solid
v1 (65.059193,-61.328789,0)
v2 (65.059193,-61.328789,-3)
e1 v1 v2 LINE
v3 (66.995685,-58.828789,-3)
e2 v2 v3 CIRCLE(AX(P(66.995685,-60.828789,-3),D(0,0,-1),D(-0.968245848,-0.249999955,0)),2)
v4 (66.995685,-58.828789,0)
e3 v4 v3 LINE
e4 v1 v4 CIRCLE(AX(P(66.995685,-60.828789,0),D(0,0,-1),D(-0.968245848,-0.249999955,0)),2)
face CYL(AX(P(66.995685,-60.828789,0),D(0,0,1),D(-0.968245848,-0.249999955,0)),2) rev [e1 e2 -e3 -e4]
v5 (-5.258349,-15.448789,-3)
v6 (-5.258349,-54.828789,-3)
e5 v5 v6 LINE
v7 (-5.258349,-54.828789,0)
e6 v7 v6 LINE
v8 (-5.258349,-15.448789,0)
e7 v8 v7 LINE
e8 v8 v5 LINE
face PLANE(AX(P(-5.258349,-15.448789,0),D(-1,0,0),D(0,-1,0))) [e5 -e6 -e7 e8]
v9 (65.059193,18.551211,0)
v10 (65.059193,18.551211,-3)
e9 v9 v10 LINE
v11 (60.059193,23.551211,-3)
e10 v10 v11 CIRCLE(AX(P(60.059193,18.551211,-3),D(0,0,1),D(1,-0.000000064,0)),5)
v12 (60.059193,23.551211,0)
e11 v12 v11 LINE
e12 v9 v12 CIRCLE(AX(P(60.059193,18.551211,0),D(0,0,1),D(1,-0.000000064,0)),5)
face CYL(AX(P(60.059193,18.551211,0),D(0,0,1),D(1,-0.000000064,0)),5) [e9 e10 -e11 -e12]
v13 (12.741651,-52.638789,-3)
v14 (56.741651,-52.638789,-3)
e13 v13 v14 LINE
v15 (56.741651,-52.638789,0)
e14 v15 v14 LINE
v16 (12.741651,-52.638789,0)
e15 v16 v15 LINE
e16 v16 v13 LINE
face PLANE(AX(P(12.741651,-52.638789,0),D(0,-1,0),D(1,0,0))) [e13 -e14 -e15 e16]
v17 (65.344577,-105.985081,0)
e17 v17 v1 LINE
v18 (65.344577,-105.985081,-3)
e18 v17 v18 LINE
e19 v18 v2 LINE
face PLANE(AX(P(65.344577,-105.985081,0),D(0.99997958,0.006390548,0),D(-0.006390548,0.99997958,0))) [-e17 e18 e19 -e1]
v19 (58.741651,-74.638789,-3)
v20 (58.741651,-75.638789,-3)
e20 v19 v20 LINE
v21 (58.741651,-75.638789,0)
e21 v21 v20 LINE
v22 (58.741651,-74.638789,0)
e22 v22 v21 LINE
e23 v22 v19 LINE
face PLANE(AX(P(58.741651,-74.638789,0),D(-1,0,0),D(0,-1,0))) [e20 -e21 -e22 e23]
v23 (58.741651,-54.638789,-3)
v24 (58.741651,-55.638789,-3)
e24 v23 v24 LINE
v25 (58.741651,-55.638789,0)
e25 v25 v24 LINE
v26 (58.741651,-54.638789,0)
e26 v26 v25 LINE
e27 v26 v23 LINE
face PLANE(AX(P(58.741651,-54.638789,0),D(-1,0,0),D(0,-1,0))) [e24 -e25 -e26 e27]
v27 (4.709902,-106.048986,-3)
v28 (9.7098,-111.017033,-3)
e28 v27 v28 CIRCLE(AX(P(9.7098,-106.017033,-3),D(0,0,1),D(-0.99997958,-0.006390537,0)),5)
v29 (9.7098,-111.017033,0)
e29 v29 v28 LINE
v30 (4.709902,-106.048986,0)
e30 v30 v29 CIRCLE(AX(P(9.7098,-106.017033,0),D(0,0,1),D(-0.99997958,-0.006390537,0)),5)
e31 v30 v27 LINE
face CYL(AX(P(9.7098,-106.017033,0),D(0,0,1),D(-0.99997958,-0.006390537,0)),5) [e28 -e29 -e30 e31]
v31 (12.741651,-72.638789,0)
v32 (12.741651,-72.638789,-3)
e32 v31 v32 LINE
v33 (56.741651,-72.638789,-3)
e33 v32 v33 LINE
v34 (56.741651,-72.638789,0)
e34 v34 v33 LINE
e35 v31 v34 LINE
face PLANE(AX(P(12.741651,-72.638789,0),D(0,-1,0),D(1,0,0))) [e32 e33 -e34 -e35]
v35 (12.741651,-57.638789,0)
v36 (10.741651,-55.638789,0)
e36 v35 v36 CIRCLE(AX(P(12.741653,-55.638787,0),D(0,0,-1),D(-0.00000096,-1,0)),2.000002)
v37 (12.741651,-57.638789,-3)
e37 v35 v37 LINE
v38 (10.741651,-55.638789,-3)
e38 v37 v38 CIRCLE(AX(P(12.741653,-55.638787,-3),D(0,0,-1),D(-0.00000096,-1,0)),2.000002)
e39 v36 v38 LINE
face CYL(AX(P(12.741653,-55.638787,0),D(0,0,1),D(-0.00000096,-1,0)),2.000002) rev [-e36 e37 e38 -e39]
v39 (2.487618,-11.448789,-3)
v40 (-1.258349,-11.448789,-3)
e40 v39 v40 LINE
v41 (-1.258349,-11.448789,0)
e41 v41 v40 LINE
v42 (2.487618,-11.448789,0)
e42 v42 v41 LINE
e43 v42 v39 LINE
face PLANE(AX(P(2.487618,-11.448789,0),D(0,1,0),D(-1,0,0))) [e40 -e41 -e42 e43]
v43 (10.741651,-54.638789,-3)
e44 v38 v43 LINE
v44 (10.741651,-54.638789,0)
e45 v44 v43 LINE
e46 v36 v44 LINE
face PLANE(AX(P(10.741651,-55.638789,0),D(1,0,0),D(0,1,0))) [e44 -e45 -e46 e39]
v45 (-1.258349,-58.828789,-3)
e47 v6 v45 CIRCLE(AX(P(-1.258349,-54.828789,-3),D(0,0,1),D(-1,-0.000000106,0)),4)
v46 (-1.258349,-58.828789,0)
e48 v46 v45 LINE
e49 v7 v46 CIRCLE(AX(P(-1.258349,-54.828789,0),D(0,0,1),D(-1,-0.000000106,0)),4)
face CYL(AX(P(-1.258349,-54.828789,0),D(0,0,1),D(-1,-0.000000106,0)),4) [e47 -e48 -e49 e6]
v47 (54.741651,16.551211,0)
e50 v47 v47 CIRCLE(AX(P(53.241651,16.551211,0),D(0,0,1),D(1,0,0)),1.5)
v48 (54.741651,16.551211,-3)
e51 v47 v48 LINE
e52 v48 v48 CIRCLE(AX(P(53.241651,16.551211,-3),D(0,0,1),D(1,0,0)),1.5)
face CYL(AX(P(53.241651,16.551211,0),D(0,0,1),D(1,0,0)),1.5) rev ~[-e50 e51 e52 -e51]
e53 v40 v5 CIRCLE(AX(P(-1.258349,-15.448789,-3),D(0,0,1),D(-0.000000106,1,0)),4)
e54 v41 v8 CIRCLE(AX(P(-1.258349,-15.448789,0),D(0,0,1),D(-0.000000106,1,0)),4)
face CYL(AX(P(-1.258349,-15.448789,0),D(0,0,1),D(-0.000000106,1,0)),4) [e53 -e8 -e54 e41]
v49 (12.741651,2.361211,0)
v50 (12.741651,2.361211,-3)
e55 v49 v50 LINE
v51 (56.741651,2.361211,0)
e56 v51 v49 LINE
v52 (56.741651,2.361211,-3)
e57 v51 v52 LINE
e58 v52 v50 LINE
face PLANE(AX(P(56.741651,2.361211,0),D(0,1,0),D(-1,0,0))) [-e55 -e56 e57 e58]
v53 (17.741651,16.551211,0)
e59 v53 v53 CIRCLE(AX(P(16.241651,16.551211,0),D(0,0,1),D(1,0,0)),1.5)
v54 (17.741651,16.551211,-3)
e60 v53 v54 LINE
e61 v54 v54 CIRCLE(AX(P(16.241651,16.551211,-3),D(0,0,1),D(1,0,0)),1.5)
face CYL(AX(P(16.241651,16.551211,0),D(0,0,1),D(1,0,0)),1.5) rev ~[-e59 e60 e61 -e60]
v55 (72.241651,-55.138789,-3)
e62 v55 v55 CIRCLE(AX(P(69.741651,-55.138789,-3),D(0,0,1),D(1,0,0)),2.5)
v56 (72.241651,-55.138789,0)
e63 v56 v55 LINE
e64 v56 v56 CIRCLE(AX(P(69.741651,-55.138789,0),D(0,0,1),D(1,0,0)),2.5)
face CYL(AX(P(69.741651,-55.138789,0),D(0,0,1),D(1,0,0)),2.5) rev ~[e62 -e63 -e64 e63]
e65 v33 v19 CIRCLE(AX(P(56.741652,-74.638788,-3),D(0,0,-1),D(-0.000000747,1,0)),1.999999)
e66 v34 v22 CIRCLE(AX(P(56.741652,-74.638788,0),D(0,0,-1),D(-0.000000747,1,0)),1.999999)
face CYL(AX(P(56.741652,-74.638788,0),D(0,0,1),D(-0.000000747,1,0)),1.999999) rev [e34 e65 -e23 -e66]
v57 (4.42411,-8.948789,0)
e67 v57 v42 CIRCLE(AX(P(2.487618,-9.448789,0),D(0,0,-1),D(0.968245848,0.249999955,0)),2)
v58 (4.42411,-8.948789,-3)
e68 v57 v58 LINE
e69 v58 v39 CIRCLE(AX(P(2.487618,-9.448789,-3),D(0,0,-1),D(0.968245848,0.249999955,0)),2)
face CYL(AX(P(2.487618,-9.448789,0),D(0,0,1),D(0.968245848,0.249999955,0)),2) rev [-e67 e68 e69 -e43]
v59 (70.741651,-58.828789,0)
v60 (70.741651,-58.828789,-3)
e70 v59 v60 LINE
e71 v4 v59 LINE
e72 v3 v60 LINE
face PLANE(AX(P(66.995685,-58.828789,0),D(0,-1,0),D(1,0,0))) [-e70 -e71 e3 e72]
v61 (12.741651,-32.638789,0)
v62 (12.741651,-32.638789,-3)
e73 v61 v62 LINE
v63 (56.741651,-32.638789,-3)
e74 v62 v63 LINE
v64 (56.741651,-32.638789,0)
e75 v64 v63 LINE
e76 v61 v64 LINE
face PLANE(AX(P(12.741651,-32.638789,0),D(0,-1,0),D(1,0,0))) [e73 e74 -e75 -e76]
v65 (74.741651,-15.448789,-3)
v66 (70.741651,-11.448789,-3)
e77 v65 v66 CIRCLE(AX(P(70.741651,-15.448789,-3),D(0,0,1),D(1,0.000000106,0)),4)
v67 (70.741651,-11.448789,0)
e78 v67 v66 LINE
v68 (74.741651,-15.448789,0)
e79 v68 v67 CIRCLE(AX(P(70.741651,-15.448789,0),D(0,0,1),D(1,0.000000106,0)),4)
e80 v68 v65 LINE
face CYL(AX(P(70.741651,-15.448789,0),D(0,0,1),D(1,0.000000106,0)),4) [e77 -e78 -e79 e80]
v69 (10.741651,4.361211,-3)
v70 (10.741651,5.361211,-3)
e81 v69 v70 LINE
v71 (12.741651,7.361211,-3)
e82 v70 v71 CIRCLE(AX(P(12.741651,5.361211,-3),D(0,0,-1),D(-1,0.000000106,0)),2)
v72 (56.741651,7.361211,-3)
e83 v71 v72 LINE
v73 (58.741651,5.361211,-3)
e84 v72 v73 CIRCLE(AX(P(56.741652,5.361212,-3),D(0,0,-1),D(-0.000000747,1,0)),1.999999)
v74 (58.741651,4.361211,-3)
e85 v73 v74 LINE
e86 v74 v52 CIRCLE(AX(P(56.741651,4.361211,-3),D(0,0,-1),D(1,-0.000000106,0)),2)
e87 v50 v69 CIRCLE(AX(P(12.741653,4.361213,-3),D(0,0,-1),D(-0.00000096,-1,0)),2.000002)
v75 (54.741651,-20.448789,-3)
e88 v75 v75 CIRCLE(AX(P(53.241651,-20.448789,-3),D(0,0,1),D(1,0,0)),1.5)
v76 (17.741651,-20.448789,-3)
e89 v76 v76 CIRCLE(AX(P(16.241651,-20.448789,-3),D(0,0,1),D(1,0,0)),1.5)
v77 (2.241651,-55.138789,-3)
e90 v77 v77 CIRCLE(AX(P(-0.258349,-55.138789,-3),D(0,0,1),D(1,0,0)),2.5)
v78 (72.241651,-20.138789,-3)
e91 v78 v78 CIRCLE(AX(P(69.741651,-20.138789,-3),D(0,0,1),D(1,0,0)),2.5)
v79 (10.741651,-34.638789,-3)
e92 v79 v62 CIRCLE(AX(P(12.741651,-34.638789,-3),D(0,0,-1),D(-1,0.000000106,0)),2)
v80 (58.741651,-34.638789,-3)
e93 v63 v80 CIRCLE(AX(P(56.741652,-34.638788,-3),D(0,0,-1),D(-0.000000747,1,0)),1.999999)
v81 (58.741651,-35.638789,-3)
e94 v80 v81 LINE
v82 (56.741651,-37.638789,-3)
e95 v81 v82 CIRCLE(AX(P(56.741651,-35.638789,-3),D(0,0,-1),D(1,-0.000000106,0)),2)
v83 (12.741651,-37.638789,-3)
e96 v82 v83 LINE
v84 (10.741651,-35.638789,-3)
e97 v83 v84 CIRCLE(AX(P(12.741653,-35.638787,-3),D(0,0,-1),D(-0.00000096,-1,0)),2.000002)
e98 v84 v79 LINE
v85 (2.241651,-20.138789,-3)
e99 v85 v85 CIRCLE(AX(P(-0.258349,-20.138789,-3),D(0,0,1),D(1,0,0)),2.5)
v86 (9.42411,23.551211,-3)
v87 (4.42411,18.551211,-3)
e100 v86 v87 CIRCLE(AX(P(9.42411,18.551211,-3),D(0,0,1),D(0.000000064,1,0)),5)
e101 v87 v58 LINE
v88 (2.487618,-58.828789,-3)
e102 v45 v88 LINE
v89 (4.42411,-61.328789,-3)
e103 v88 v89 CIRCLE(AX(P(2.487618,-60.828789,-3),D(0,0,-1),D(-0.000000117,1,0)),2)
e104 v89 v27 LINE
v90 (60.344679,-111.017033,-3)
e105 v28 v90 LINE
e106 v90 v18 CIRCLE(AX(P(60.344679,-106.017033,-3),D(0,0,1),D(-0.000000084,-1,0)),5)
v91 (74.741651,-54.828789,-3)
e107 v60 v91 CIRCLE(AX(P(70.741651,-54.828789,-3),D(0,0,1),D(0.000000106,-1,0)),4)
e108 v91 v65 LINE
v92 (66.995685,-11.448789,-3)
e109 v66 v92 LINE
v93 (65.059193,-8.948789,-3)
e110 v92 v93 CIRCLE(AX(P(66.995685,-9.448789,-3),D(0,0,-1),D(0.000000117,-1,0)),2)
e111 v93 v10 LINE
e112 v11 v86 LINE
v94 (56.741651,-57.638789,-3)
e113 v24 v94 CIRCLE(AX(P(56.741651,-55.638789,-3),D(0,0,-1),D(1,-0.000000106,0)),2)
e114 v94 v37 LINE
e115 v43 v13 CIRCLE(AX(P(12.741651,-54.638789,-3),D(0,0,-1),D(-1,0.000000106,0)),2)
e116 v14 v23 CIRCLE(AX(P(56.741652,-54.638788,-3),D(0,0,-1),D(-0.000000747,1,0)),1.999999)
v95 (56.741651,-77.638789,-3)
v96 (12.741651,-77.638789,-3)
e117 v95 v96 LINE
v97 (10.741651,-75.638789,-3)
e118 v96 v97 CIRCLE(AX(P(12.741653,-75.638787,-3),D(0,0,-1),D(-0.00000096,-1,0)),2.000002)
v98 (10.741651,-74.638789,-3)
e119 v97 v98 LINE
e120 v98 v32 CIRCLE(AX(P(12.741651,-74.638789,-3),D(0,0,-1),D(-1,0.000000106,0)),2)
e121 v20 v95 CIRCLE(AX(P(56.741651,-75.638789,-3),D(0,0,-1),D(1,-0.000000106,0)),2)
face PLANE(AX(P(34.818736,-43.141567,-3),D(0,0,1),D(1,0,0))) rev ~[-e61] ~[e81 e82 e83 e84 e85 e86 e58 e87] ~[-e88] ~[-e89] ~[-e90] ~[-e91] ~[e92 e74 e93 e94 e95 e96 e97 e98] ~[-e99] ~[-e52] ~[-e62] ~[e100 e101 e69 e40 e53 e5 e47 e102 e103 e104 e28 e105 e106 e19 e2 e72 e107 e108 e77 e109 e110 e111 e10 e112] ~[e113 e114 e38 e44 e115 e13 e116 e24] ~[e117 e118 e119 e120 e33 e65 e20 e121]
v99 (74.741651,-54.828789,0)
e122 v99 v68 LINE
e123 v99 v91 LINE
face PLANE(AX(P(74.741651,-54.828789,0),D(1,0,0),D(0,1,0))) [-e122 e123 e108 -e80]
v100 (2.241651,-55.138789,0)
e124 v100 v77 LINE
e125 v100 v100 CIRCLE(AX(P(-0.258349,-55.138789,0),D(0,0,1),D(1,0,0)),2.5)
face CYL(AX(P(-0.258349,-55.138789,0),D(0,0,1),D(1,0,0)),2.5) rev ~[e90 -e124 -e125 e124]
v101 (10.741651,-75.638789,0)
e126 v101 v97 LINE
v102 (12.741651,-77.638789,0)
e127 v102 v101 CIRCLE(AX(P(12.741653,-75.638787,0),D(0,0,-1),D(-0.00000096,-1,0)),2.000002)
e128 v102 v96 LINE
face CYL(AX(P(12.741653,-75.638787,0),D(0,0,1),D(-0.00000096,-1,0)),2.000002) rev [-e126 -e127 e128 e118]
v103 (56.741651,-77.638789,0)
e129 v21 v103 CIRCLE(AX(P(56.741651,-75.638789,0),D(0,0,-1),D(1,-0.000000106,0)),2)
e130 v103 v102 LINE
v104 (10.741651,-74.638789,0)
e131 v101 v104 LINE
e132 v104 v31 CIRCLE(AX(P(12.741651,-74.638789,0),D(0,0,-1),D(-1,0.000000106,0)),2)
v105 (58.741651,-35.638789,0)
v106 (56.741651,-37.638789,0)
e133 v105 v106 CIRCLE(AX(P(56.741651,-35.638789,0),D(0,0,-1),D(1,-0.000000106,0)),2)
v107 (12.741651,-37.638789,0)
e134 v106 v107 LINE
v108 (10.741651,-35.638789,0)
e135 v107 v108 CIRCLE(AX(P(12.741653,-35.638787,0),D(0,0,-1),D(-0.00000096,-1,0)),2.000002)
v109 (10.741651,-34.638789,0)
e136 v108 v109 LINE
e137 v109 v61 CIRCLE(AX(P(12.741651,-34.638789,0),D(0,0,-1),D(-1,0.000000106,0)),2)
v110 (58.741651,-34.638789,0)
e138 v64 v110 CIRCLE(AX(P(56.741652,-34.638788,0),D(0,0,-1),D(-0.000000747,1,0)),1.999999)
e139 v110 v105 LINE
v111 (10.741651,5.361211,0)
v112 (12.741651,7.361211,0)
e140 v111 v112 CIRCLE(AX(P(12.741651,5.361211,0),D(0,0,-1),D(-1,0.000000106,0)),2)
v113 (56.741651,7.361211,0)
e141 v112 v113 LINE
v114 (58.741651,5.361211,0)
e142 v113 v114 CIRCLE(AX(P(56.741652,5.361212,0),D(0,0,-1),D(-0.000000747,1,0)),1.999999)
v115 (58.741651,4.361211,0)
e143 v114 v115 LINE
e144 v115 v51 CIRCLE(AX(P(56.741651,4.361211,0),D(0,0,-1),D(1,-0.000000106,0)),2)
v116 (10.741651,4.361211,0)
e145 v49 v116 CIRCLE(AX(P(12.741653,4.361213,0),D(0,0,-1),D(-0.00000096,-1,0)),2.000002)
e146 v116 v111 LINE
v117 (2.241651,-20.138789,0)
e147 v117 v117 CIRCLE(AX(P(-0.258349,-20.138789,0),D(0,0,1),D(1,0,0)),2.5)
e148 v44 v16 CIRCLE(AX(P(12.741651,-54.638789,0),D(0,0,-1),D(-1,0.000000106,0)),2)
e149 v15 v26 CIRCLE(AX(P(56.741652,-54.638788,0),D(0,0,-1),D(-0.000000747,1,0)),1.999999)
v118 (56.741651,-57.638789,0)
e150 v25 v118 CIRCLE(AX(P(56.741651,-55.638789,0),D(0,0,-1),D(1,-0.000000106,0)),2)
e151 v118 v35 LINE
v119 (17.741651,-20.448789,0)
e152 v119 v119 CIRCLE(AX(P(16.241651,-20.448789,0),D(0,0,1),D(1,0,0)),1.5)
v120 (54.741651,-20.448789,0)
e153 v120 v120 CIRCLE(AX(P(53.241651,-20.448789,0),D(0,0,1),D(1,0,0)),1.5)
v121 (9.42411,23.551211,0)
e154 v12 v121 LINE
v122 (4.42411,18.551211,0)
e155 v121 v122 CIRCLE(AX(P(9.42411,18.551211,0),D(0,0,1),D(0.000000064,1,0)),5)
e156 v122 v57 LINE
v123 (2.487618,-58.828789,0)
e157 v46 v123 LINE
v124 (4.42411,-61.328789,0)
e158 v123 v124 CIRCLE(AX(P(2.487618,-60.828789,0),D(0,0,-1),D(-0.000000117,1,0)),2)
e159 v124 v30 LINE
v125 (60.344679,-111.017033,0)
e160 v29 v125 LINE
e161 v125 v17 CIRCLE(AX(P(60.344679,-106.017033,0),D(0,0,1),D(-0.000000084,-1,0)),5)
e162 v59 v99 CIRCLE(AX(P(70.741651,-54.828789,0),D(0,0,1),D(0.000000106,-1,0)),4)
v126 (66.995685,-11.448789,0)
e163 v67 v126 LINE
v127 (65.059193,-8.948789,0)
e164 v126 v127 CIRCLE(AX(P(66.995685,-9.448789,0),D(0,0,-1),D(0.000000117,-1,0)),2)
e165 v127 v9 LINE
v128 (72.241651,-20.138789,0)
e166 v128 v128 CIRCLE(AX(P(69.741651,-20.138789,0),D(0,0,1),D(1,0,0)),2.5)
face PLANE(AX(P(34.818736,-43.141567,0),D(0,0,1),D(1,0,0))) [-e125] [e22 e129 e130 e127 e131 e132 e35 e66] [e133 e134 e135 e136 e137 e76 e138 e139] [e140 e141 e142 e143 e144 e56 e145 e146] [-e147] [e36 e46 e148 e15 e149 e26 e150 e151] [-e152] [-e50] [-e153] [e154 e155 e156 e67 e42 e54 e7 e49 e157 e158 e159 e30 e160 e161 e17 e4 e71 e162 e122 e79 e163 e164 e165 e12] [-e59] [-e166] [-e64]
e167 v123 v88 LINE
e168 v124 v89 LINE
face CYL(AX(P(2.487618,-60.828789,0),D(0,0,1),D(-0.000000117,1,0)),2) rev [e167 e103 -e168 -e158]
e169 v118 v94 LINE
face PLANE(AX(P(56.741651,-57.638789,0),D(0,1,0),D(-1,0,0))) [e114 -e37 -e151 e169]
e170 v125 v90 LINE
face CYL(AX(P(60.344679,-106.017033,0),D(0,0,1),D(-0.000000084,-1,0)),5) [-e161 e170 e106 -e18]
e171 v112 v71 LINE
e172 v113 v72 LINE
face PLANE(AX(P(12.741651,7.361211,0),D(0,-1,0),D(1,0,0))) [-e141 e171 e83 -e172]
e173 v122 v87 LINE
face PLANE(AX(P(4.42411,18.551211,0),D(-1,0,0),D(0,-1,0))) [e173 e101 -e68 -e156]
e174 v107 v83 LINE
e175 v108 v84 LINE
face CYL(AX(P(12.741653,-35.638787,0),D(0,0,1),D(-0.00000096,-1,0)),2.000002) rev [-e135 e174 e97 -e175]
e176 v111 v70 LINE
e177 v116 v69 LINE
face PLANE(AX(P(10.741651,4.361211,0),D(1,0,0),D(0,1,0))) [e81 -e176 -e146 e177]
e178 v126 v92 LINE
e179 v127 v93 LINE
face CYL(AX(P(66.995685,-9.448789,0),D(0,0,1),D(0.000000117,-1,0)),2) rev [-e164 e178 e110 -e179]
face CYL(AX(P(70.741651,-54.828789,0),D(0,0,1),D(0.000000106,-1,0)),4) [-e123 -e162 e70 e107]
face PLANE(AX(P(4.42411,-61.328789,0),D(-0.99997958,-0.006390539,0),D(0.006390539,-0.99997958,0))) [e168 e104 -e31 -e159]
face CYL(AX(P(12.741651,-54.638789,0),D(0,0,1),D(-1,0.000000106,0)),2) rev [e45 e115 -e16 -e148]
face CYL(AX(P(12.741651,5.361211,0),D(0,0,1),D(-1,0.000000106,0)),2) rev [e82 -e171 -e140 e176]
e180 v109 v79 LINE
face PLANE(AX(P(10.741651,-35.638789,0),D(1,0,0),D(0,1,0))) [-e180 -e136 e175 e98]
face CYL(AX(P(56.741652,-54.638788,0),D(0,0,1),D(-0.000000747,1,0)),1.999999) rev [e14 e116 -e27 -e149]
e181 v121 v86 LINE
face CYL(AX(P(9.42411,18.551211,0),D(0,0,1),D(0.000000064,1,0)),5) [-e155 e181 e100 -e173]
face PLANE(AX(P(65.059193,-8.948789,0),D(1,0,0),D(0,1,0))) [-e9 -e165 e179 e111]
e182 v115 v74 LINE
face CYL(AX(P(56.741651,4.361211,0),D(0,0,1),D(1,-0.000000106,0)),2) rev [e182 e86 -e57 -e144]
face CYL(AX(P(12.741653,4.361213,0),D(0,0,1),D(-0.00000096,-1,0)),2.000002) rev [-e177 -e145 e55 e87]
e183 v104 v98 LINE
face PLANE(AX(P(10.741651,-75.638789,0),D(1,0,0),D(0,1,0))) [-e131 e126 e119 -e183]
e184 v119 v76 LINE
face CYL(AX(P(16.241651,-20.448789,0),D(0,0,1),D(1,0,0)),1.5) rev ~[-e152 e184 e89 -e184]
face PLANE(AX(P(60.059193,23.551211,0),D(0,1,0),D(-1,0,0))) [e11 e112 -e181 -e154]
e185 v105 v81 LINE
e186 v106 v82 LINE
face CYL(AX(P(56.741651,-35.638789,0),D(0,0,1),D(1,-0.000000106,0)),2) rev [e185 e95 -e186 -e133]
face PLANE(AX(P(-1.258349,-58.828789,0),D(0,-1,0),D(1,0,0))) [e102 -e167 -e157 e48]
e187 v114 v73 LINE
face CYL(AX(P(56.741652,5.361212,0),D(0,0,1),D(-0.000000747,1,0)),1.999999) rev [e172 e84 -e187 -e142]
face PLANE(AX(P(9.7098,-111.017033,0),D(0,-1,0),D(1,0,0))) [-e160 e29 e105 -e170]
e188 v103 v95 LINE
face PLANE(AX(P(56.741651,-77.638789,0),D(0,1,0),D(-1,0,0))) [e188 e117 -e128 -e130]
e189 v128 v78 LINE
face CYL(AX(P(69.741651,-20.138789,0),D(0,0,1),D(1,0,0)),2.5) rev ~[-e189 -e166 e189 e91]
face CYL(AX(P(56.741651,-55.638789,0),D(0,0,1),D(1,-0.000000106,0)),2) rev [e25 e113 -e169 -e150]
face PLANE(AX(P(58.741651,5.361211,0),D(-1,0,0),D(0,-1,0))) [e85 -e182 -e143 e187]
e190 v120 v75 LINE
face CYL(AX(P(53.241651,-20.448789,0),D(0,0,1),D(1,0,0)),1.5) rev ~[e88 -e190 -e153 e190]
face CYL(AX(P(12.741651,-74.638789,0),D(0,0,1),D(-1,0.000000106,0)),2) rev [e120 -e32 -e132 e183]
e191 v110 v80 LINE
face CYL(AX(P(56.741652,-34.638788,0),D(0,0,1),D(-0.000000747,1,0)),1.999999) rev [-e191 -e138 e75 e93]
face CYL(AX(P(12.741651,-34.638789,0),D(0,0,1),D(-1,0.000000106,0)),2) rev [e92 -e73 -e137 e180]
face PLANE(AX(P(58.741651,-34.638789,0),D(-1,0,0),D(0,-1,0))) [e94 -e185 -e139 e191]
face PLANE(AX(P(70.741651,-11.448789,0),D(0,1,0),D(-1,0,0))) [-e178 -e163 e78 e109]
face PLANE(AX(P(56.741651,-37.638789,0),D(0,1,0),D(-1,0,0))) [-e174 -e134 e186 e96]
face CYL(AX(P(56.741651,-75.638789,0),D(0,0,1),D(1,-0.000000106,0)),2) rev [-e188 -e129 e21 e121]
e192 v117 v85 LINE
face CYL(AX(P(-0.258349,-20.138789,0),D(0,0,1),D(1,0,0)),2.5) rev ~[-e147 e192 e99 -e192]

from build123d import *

# Parameters (mm, degrees)
F0_R     = 2.5
F0_R_2   = 1.5
F1_DEPTH = 3


with BuildPart() as f1:
    # F0 (on Top) → F1 (new body)
    with BuildSketch(Plane.XY):
        with BuildLine():
            ThreePointArc((4.42411, -8.948789), (4.068757, -10.673534), (2.487618, -11.448789))
            Line((2.487618, -11.448789), (-1.258349, -11.448789))
            ThreePointArc((-1.258349, -11.448789), (-4.086776, -12.620362), (-5.258349, -15.448789))
            Line((-5.258349, -15.448789), (-5.258349, -54.828789))
            ThreePointArc((-5.258349, -54.828789), (-4.086776, -57.657216), (-1.258349, -58.828789))
            Line((-1.258349, -58.828789), (2.487618, -58.828789))
            ThreePointArc((2.487618, -58.828789), (4.068757, -59.604044), (4.42411, -61.328789))
            Line((4.42411, -61.328789), (4.709902, -106.048986))
            ThreePointArc((4.709902, -106.048986), (6.185581, -109.563846), (9.7098, -111.017033))
            Line((9.7098, -111.017033), (60.344679, -111.017033))
            ThreePointArc((60.344679, -111.017033), (63.891492, -109.541252), (65.344577, -105.985081))
            Line((65.344577, -105.985081), (65.059193, -61.328789))
            ThreePointArc((65.059193, -61.328789), (65.414546, -59.604044), (66.995685, -58.828789))
            Line((66.995685, -58.828789), (70.741651, -58.828789))
            ThreePointArc((70.741651, -58.828789), (73.570078, -57.657216), (74.741651, -54.828789))
            Line((74.741651, -54.828789), (74.741651, -15.448789))
            ThreePointArc((74.741651, -15.448789), (73.570078, -12.620362), (70.741651, -11.448789))
            Line((70.741651, -11.448789), (66.995685, -11.448789))
            ThreePointArc((66.995685, -11.448789), (65.414546, -10.673534), (65.059193, -8.948789))
            Line((65.059193, -8.948789), (65.059193, 18.551211))
            ThreePointArc((65.059193, 18.551211), (63.594727, 22.086745), (60.059193, 23.551211))
            Line((60.059193, 23.551211), (9.42411, 23.551211))
            ThreePointArc((9.42411, 23.551211), (5.888576, 22.086745), (4.42411, 18.551211))
            Line((4.42411, 18.551211), (4.42411, -8.948789))
        make_face()
        with Locations((-0.258349, -55.138789)):
            Circle(F0_R, mode=Mode.SUBTRACT)
        with BuildLine():
            ThreePointArc((10.741651, -74.638789), (11.327438, -73.224575), (12.741651, -72.638789))
            Line((12.741651, -72.638789), (56.741651, -72.638789))
            ThreePointArc((56.741651, -72.638789), (58.155865, -73.224575), (58.741651, -74.638789))
            Line((58.741651, -74.638789), (58.741651, -75.638789))
            ThreePointArc((58.741651, -75.638789), (58.155865, -77.053002), (56.741651, -77.638789))
            Line((56.741651, -77.638789), (12.741651, -77.638789))
            ThreePointArc((12.741651, -77.638789), (11.327438, -77.053002), (10.741651, -75.638789))
            Line((10.741651, -75.638789), (10.741651, -74.638789))
        make_face(mode=Mode.SUBTRACT)
        with BuildLine():
            Line((56.741651, -57.638789), (12.741651, -57.638789))
            ThreePointArc((12.741651, -57.638789), (11.327438, -57.053002), (10.741651, -55.638789))
            Line((10.741651, -55.638789), (10.741651, -54.638789))
            ThreePointArc((10.741651, -54.638789), (11.327438, -53.224575), (12.741651, -52.638789))
            Line((12.741651, -52.638789), (56.741651, -52.638789))
            ThreePointArc((56.741651, -52.638789), (58.155865, -53.224575), (58.741651, -54.638789))
            Line((58.741651, -54.638789), (58.741651, -55.638789))
            ThreePointArc((58.741651, -55.638789), (58.155865, -57.053002), (56.741651, -57.638789))
        make_face(mode=Mode.SUBTRACT)
        with Locations((69.741651, -55.138789)):
            Circle(F0_R, mode=Mode.SUBTRACT)
        with Locations((-0.258349, -20.138789)):
            Circle(F0_R, mode=Mode.SUBTRACT)
        with Locations((16.241651, -20.448789)):
            Circle(F0_R_2, mode=Mode.SUBTRACT)
        with Locations((16.241651, 16.551211)):
            Circle(F0_R_2, mode=Mode.SUBTRACT)
        with BuildLine():
            Line((12.741651, -32.638789), (56.741651, -32.638789))
            ThreePointArc((56.741651, -32.638789), (58.155865, -33.224575), (58.741651, -34.638789))
            Line((58.741651, -34.638789), (58.741651, -35.638789))
            ThreePointArc((58.741651, -35.638789), (58.155865, -37.053002), (56.741651, -37.638789))
            Line((56.741651, -37.638789), (12.741651, -37.638789))
            ThreePointArc((12.741651, -37.638789), (11.327438, -37.053002), (10.741651, -35.638789))
            Line((10.741651, -35.638789), (10.741651, -34.638789))
            ThreePointArc((10.741651, -34.638789), (11.327438, -33.224575), (12.741651, -32.638789))
        make_face(mode=Mode.SUBTRACT)
        with Locations((53.241651, -20.448789)):
            Circle(F0_R_2, mode=Mode.SUBTRACT)
        with Locations((69.741651, -20.138789)):
            Circle(F0_R, mode=Mode.SUBTRACT)
        with BuildLine():
            Line((56.741651, 2.361211), (12.741651, 2.361211))
            ThreePointArc((12.741651, 2.361211), (11.327438, 2.946998), (10.741651, 4.361211))
            Line((10.741651, 4.361211), (10.741651, 5.361211))
            ThreePointArc((10.741651, 5.361211), (11.327438, 6.775425), (12.741651, 7.361211))
            Line((12.741651, 7.361211), (56.741651, 7.361211))
            ThreePointArc((56.741651, 7.361211), (58.155865, 6.775425), (58.741651, 5.361211))
            Line((58.741651, 5.361211), (58.741651, 4.361211))
            ThreePointArc((58.741651, 4.361211), (58.155865, 2.946998), (56.741651, 2.361211))
        make_face(mode=Mode.SUBTRACT)
        with Locations((53.241651, 16.551211)):
            Circle(F0_R_2, mode=Mode.SUBTRACT)
    extrude(amount=-F1_DEPTH)


solid = f1.part
